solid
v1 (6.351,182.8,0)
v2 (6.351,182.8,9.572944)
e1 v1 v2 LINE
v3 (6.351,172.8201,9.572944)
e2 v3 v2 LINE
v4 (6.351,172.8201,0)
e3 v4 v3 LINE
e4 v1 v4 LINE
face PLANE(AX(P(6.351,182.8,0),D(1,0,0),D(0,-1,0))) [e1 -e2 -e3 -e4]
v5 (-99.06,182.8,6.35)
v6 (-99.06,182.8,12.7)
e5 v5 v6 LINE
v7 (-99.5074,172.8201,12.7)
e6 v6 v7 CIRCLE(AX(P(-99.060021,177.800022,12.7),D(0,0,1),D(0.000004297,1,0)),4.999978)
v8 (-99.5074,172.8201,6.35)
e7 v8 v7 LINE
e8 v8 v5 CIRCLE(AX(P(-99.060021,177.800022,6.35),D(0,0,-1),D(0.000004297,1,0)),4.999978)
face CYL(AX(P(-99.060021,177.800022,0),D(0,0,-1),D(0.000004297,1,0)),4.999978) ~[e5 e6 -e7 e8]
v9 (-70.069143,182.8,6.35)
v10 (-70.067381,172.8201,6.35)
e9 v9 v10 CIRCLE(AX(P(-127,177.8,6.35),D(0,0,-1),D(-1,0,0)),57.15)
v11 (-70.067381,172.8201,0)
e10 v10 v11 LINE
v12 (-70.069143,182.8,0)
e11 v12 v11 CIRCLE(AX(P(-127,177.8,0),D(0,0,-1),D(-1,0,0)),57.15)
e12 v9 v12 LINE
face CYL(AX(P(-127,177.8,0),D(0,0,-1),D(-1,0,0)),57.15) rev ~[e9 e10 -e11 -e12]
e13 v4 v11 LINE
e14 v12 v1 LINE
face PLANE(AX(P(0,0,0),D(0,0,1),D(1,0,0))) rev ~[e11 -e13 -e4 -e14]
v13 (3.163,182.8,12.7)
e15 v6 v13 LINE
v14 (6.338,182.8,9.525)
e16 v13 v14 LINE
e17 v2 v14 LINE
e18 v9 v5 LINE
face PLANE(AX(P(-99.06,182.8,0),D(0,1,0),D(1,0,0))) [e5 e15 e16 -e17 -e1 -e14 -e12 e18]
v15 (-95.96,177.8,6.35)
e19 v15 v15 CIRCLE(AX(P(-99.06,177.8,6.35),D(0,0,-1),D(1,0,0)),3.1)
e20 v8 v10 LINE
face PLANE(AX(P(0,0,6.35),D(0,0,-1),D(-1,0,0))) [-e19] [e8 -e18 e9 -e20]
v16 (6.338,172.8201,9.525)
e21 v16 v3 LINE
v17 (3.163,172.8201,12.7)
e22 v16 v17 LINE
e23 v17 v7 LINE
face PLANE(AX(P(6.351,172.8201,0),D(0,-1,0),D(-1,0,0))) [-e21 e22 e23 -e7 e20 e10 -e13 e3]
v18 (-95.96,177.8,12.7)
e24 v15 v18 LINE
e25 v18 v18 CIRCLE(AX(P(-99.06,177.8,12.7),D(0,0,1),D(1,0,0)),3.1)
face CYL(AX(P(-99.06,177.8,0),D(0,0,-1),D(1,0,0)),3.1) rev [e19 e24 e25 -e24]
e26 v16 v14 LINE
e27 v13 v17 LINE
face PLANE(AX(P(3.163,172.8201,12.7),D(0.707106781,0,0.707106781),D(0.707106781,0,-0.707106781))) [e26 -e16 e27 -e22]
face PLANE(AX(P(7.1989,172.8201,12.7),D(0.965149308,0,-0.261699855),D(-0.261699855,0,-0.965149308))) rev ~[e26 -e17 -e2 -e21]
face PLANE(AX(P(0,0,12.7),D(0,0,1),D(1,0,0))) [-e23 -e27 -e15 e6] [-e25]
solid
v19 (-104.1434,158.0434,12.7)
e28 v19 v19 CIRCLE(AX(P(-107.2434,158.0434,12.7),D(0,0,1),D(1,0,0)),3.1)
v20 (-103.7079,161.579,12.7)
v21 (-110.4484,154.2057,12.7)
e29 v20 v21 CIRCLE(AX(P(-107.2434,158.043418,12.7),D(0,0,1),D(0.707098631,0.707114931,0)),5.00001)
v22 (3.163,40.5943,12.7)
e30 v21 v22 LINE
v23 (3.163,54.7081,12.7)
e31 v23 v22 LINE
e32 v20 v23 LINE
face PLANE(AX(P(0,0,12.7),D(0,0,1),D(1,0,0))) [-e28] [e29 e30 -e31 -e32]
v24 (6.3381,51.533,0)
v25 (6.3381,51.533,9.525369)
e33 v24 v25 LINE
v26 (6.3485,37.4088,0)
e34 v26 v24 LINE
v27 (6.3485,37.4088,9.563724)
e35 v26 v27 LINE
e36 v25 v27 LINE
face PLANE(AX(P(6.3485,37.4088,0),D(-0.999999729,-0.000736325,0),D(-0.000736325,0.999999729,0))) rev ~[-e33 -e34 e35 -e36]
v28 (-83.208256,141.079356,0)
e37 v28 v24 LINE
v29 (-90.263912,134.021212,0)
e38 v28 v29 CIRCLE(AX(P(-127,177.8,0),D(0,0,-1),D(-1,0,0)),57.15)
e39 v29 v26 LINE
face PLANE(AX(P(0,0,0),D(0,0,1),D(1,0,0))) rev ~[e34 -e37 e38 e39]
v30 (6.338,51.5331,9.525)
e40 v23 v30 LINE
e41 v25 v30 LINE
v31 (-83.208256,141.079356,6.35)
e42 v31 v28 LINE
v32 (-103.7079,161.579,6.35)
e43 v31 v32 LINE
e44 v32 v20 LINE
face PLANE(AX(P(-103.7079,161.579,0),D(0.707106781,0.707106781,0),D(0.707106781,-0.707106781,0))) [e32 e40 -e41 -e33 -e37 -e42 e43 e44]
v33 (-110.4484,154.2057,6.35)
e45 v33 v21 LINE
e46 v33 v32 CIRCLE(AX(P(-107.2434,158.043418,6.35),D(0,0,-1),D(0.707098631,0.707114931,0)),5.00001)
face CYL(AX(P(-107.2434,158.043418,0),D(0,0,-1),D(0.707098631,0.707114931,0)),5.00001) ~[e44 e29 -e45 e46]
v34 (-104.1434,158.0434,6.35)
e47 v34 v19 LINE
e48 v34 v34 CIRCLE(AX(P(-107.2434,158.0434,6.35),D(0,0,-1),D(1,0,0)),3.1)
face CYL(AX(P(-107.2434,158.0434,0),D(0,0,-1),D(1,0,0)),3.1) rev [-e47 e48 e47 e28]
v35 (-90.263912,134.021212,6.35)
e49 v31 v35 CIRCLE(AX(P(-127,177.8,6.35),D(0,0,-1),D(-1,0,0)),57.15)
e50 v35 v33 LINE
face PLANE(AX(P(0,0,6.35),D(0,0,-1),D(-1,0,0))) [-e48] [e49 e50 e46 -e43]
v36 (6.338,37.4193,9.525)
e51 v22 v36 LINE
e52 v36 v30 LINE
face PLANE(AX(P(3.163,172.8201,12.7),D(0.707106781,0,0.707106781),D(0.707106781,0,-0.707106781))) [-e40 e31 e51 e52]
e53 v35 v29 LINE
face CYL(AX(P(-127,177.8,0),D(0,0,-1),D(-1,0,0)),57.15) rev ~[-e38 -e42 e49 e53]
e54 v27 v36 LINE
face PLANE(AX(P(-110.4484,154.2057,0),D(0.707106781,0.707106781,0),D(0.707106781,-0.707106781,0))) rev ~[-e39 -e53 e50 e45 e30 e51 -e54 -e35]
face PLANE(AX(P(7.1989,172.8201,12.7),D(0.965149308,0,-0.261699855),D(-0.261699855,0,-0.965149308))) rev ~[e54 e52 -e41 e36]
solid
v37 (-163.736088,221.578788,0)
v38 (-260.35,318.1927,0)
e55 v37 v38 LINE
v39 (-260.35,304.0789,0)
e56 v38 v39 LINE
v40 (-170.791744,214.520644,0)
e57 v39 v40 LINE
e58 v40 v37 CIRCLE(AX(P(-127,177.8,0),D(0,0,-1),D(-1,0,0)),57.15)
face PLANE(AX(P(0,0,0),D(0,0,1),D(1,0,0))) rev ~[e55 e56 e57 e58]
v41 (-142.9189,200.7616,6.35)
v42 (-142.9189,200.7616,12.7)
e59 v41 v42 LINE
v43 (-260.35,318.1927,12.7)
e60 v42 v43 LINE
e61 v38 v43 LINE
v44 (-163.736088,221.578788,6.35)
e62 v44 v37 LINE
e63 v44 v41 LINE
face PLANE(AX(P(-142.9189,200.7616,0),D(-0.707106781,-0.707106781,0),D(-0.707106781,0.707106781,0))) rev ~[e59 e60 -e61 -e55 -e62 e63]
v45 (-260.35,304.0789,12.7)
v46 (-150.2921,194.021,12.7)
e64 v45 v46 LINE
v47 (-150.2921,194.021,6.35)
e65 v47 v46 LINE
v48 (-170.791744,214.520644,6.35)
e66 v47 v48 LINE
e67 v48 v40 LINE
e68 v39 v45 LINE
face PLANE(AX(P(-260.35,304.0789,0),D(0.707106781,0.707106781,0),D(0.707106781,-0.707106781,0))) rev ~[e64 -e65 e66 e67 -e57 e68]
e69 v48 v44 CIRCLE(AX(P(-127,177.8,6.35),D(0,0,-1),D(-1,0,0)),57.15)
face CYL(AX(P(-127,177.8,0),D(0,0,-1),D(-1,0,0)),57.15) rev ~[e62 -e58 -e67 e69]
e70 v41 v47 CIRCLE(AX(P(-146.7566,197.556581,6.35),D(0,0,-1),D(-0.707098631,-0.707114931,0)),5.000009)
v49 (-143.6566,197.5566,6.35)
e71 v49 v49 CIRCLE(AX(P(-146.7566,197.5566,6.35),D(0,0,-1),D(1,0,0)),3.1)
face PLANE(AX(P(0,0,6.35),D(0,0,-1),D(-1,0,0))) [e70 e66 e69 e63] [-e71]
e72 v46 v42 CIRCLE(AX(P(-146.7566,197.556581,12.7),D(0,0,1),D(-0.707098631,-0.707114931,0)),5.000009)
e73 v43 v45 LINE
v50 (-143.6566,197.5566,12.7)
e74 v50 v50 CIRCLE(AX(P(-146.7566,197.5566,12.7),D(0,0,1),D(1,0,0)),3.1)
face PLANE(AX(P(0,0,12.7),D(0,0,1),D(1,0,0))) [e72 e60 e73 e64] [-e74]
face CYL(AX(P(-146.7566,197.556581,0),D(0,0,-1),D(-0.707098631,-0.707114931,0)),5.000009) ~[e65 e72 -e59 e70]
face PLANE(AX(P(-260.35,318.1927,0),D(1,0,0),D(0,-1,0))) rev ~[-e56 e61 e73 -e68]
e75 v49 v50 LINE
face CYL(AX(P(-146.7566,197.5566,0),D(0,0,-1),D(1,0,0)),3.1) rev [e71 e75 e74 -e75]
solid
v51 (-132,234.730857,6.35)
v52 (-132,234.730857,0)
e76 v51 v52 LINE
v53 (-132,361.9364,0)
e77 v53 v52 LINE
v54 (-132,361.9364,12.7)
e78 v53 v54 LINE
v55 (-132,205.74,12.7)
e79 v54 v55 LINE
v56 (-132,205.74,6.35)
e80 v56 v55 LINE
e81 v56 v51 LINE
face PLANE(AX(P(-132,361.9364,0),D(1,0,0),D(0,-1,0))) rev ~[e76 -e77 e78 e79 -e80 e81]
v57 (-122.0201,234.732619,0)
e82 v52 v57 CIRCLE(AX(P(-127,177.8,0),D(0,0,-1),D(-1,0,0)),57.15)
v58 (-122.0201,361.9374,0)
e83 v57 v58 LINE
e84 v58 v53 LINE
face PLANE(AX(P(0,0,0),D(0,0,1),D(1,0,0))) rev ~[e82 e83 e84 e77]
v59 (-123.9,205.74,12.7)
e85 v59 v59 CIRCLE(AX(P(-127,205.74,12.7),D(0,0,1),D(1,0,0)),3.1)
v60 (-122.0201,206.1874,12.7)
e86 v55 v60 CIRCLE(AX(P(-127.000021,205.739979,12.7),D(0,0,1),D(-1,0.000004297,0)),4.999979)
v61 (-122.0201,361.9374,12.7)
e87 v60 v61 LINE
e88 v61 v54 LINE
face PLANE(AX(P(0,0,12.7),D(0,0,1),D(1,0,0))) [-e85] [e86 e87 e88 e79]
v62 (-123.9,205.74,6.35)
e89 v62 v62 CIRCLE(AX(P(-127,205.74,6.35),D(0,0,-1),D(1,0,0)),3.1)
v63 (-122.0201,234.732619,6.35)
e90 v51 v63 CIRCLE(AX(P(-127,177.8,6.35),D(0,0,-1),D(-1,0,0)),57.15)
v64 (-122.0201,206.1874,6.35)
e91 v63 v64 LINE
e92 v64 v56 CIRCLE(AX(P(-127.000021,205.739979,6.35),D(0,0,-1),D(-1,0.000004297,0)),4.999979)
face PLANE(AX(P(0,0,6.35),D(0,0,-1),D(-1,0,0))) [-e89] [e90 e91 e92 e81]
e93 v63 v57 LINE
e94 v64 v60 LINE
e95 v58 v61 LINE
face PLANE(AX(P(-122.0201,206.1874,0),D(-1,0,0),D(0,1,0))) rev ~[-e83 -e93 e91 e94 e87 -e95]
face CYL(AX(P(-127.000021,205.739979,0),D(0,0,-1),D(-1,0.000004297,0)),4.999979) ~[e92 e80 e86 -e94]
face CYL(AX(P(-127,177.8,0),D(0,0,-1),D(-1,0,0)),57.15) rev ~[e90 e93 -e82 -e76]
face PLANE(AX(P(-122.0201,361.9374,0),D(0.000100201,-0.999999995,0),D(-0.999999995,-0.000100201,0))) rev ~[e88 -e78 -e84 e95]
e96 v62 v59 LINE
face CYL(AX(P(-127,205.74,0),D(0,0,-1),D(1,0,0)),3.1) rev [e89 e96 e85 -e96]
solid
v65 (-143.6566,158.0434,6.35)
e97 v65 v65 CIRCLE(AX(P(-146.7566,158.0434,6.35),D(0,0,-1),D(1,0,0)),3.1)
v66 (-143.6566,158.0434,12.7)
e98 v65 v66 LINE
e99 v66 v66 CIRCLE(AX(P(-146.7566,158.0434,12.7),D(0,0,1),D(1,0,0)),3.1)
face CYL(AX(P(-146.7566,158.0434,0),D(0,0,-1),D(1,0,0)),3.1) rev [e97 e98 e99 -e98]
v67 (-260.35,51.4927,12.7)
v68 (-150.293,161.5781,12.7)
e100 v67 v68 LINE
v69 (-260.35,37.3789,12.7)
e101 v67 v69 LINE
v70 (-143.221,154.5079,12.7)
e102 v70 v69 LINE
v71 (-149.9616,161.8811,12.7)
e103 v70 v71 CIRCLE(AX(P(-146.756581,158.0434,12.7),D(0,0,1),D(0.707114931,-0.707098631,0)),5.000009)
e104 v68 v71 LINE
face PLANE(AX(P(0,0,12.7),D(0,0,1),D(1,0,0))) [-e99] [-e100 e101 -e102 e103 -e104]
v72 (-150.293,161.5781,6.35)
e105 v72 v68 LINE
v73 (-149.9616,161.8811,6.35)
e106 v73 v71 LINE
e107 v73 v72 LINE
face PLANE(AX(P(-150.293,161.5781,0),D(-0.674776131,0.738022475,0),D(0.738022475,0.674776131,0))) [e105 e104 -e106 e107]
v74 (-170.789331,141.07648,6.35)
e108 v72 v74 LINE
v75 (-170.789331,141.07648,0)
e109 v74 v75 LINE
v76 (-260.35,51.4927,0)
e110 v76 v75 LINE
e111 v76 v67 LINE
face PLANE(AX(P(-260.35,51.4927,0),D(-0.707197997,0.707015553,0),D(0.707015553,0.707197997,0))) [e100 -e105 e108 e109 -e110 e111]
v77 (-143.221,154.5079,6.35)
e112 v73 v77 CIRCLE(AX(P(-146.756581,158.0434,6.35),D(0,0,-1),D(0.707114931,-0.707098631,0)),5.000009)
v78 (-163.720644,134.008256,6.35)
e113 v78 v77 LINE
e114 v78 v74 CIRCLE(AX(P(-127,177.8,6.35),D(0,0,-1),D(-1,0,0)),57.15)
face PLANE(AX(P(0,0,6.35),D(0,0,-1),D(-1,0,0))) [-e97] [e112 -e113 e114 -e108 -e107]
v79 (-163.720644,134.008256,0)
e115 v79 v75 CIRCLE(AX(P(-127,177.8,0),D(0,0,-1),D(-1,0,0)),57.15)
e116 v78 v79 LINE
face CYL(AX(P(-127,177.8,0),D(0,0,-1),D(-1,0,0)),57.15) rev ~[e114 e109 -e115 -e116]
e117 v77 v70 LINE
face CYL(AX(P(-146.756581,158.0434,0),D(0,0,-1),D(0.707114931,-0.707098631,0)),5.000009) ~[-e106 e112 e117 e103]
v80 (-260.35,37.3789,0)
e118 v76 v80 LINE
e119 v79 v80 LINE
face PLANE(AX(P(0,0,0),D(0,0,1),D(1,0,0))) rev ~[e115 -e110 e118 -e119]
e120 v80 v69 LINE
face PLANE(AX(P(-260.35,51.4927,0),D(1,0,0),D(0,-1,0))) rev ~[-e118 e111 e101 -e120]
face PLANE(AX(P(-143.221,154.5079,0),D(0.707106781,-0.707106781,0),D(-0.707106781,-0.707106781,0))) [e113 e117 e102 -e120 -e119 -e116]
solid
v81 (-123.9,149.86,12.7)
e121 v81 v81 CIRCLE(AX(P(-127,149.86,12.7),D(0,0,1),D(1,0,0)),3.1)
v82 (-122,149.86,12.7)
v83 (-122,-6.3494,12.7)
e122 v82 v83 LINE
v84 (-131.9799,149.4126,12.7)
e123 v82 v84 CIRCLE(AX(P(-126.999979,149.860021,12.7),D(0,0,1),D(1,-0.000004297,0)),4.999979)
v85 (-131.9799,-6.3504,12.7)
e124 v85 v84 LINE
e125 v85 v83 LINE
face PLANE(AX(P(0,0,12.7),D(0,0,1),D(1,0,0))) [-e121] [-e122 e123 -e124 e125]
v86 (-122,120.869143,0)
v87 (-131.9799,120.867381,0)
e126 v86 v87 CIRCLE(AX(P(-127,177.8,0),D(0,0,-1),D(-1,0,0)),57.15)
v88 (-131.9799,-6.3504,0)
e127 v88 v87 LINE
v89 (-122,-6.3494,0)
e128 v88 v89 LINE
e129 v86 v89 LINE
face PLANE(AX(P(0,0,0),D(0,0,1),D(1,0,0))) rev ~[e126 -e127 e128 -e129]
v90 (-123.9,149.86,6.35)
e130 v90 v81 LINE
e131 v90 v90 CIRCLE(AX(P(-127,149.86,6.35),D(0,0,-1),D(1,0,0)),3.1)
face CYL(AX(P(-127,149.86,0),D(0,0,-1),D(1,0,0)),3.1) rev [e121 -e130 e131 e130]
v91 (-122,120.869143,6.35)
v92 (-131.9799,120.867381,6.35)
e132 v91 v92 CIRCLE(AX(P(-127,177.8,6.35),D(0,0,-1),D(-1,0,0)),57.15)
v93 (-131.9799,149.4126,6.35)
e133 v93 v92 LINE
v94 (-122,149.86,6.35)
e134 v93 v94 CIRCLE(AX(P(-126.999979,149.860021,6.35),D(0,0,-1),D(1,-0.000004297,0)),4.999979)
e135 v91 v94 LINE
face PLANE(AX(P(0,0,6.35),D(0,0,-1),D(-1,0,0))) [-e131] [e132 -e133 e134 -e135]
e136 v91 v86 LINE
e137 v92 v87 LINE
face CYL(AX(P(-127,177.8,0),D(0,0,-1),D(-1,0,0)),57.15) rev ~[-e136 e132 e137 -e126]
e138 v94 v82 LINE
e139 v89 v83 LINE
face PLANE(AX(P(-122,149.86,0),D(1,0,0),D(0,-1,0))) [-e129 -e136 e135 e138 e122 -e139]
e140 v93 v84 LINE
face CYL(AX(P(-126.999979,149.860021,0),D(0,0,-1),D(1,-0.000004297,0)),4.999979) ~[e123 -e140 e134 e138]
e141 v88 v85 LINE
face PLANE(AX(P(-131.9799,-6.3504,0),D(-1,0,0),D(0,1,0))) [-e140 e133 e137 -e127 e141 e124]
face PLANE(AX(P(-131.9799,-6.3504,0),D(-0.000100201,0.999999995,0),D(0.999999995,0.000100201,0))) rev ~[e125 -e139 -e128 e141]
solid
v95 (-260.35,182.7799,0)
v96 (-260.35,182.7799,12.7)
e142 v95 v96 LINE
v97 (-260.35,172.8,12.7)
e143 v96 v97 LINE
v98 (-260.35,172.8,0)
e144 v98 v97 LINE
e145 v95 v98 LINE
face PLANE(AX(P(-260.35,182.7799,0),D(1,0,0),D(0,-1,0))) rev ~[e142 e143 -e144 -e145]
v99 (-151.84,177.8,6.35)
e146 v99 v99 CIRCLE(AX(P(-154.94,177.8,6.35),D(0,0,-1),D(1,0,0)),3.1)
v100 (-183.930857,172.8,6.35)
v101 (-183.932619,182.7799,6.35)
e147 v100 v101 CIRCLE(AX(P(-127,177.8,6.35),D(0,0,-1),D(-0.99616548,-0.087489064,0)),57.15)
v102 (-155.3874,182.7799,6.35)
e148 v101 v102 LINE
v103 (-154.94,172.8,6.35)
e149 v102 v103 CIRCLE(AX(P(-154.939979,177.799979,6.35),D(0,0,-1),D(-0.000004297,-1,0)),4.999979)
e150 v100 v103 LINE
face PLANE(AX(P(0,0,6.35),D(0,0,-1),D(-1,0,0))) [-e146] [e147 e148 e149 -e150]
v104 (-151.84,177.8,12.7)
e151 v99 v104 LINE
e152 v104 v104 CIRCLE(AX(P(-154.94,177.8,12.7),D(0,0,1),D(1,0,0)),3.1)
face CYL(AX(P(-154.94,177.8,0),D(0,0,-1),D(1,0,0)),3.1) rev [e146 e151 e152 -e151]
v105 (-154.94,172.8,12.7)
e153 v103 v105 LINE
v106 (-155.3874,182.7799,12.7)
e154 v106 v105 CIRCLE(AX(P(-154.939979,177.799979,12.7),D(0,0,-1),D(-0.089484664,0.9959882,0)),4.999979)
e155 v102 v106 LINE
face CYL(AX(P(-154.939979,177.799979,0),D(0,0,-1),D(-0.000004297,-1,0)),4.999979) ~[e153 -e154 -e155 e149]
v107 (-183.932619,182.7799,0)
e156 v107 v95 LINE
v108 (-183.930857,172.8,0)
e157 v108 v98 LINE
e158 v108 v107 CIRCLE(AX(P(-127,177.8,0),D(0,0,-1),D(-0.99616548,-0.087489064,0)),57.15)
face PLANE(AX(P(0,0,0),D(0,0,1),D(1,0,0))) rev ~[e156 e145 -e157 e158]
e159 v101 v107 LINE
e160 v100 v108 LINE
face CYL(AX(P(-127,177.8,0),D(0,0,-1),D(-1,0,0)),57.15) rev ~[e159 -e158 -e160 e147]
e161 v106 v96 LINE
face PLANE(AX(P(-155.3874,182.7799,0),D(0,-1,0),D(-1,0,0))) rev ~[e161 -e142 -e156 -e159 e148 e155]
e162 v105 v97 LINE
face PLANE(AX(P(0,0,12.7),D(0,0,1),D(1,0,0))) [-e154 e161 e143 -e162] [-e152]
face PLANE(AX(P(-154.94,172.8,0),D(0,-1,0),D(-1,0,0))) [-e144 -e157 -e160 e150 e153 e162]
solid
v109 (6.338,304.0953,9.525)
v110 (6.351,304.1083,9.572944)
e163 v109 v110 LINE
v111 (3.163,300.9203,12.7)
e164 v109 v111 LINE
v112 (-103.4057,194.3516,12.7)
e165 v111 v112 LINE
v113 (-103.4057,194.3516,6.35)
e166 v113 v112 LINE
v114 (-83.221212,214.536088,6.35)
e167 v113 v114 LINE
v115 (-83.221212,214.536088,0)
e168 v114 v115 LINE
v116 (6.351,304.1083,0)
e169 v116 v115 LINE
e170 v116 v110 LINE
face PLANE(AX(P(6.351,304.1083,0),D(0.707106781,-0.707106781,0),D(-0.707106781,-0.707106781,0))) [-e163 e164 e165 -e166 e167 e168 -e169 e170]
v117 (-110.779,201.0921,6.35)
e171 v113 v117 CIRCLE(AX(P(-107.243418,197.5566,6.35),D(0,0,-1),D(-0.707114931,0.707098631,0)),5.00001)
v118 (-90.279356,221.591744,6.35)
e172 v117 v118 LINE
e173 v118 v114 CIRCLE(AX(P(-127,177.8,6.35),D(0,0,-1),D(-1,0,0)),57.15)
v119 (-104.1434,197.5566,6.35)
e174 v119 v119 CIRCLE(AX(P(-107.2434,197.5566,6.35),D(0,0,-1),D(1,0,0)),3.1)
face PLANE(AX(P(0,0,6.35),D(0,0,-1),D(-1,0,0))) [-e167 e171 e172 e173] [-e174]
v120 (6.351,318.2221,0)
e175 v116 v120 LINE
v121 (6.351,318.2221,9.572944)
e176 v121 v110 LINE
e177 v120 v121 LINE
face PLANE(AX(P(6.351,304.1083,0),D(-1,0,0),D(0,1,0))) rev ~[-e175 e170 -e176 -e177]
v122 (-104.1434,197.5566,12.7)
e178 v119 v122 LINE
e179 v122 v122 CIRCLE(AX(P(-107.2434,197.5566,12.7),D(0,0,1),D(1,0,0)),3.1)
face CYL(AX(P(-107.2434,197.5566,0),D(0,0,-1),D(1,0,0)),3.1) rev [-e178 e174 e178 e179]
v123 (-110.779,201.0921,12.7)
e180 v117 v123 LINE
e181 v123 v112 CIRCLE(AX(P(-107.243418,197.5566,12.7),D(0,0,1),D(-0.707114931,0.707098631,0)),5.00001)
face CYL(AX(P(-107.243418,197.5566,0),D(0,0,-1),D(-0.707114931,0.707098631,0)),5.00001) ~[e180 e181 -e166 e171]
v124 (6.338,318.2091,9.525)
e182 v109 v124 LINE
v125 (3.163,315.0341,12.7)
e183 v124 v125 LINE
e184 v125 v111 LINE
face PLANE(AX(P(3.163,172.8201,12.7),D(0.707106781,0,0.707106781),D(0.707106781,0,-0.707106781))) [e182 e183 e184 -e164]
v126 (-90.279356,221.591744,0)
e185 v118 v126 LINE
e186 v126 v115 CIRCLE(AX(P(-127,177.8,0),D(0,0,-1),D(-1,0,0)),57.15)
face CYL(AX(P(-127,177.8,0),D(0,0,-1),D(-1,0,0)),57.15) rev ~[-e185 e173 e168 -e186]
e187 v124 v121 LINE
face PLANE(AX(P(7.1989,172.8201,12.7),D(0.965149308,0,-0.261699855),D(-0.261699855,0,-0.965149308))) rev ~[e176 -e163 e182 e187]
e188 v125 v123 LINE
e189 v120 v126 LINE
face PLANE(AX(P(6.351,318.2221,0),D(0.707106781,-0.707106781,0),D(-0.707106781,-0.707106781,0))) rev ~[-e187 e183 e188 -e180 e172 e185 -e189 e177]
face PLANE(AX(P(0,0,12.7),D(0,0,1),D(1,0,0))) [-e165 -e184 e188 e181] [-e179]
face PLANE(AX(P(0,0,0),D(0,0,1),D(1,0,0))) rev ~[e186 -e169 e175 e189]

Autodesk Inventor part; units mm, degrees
ref_plane "YZ Plane" through (0, 0, 0) normal (1, 0, 0) x (0, 1, 0)
ref_plane "XZ Plane" through (0, 0, 0) normal (0, 1, 0) x (-1, 0, 0)
ref_plane "XY Plane" through (0, 0, 0) normal (0, 0, 1) x (1, 0, 0)
sketch "Sketch1" plane through (0, 0, 0) normal (0, 0, 1) x (1, 0, 0)
  line L0 (0, 0) -> (0, 355.6) construction
  line L1 (-254, 0) -> (0, 0) construction
  line L2 (0, 355.6) -> (-254, 0) construction
  circle A0 centre (-127, 177.8) radius 38.1 construction
  circle A1 centre (-127, 177.8) radius 27.94 construction
  line L3 (0, 355.6) -> (0, 325.12) construction
  line L4 (-127, 177.8) -> (-100.0592, 204.7408) construction
  line L5 (-127, 177.8) -> (-95.96, 177.8) construction
  circle A2 centre (-107.2434, 197.5566) radius 3.1 construction
  circle A3 centre (-127, 205.74) radius 3.1 construction
  circle A4 centre (-127, 177.8) radius 27.94 construction
  circle A5 centre (-146.7566, 197.5566) radius 3.1 construction
  circle A6 centre (-127, 177.8) radius 27.94 construction
  circle A7 centre (-154.94, 177.8) radius 3.1 construction
  circle A8 centre (-127, 177.8) radius 27.94 construction
  circle A9 centre (-146.7566, 158.0434) radius 3.1 construction
  circle A10 centre (-127, 177.8) radius 27.94 construction
  circle A11 centre (-127, 149.86) radius 3.1 construction
  circle A12 centre (-127, 177.8) radius 27.94 construction
  circle A13 centre (-107.2434, 158.0434) radius 3.1 construction
  circle A14 centre (-127, 177.8) radius 27.94 construction
  circle A15 centre (-99.06, 177.8) radius 3.1 construction
  circle A16 centre (-127, 177.8) radius 27.94 construction
  arc A17 (-99.06, 182.8) -> (-98.6126, 172.8201) centre (-99.06, 177.8) ccw construction
  line L6 (-99.06, 182.8) -> (104.14, 182.8) construction
  line L7 (104.14, 182.8) -> (104.773, 172.8201) construction
  line L8 (104.773, 172.8201) -> (-99.5074, 172.8201) construction
  line L9 (-110.779, 201.0921) -> (32.9051, 344.7762) construction
  line L10 (32.9051, 344.7762) -> (40.4096, 338.1669) construction
  line L11 (40.4096, 338.1669) -> (-104.0384, 193.7189) construction
  arc A18 (-110.779, 201.0921) -> (-103.4057, 194.3516) centre (-107.2434, 197.5566) ccw construction
  line L12 (-132, 205.74) -> (-132, 408.94) construction
  line L13 (-132, 408.94) -> (-122.0201, 409.573) construction
  line L14 (-122.0201, 409.573) -> (-122.0201, 205.2926) construction
  arc A19 (-132, 205.74) -> (-122.0201, 206.1874) centre (-127, 205.74) ccw construction
  line L15 (-150.2921, 194.021) -> (-293.9762, 337.7051) construction
  line L16 (-293.9762, 337.7051) -> (-287.3669, 345.2096) construction
  line L17 (-287.3669, 345.2096) -> (-142.9189, 200.7616) construction
  arc A20 (-150.2921, 194.021) -> (-143.5516, 201.3943) centre (-146.7566, 197.5566) ccw construction
  line L18 (-154.94, 172.8) -> (-358.14, 172.8) construction
  line L19 (-358.14, 172.8) -> (-358.773, 182.7799) construction
  line L20 (-358.773, 182.7799) -> (-154.4926, 182.7799) construction
  arc A21 (-154.94, 172.8) -> (-155.3874, 182.7799) centre (-154.94, 177.8) ccw construction
  line L21 (-143.221, 154.5079) -> (-286.9051, 10.8238) construction
  line L22 (-286.9051, 10.8238) -> (-294.4096, 17.4331) construction
  line L23 (-294.4096, 17.4331) -> (-149.9616, 161.8811) construction
  arc A22 (-143.221, 154.5079) -> (-150.5943, 161.2484) centre (-146.7566, 158.0434) ccw construction
  line L24 (-122, 149.86) -> (-122, -53.34) construction
  line L25 (-122, -53.34) -> (-131.9799, -53.973) construction
  line L26 (-131.9799, -53.973) -> (-131.9799, 150.3074) construction
  arc A23 (-122, 149.86) -> (-131.9799, 149.4126) centre (-127, 149.86) ccw construction
  line L27 (-103.7079, 161.579) -> (39.9762, 17.8949) construction
  line L28 (39.9762, 17.8949) -> (33.3669, 10.3904) construction
  line L29 (33.3669, 10.3904) -> (-111.0811, 154.8384) construction
  arc A24 (-103.7079, 161.579) -> (-110.4484, 154.2057) centre (-107.2434, 158.0434) ccw construction
  line L30 (0, 355.6) -> (-254, 355.6) construction
  line L31 (-254, 0) -> (-254, 355.6) construction
  line L32 (-254, 355.6) -> (0, 355.6) construction
  line L33 (0, 355.6) -> (0, 0) construction
  line L34 (-254, 0) -> (0, 0) construction
  line L35 (-131.9799, -6.3504) -> (-122, -6.3494)
  line L36 (-122.0201, 361.9374) -> (-132, 361.9364)
  line L37 (-99.06, 182.8) -> (6.351, 182.8)
  line L38 (6.351, 182.8) -> (6.351, 172.8201)
  line L39 (6.351, 172.8201) -> (-99.5074, 172.8201)
  line L40 (-103.7079, 161.579) -> (6.3381, 51.533)
  line L41 (-110.4484, 154.2057) -> (6.3485, 37.4088)
  line L42 (-122, 149.86) -> (-122, -6.3494)
  line L43 (-131.9799, -6.3504) -> (-131.9799, 149.4126)
  arc A25 (-122, 149.86) -> (-131.9799, 149.4126) centre (-127, 149.86) ccw
  arc A26 (-103.7079, 161.579) -> (-110.4484, 154.2057) centre (-107.2434, 158.0434) ccw
  arc A27 (-99.06, 182.8) -> (-99.5074, 172.8201) centre (-99.06, 177.8) ccw
  circle A28 centre (-127, 149.86) radius 3.1
  circle A29 centre (-107.2434, 158.0434) radius 3.1
  circle A30 centre (-99.06, 177.8) radius 3.1
  circle A31 centre (-107.2434, 197.5566) radius 3.1
  arc A32 (-110.779, 201.0921) -> (-103.4057, 194.3516) centre (-107.2434, 197.5566) ccw
  circle A33 centre (-127, 205.74) radius 3.1
  arc A34 (-132, 205.74) -> (-122.0201, 206.1874) centre (-127, 205.74) ccw
  circle A35 centre (-146.7566, 197.5566) radius 3.1
  arc A36 (-150.2921, 194.021) -> (-142.9189, 200.7616) centre (-146.7566, 197.5566) ccw
  circle A37 centre (-154.94, 177.8) radius 3.1
  arc A38 (-154.94, 172.8) -> (-155.3874, 182.7799) centre (-154.94, 177.8) ccw
  circle A39 centre (-146.7566, 158.0434) radius 3.1
  arc A40 (-143.221, 154.5079) -> (-149.9616, 161.8811) centre (-146.7566, 158.0434) ccw
  line L44 (-154.94, 172.8) -> (-260.35, 172.8)
  line L45 (-154.4926, 182.7799) -> (-260.35, 182.7799)
  line L46 (6.3485, 37.4088) -> (6.3381, 51.533)
  line L47 (-143.221, 154.5079) -> (-260.35, 37.3789)
  line L48 (-260.35, 51.4927) -> (-150.293, 161.5781)
  line L49 (-150.293, 161.5781) -> (-149.9616, 161.8811)
  line L50 (-260.35, 51.4927) -> (-260.35, 37.3789)
  line L51 (-142.9189, 200.7616) -> (-260.35, 318.1927)
  line L52 (-260.35, 304.0789) -> (-150.2921, 194.021)
  line L53 (-132, 361.9364) -> (-132, 205.74)
  line L54 (-122.0201, 206.1874) -> (-122.0201, 361.9374)
  line L55 (6.351, 304.1083) -> (-103.4057, 194.3516)
  line L56 (6.351, 318.2221) -> (-110.779, 201.0921)
  line L57 (-260.35, 318.1927) -> (-260.35, 304.0789)
  line L58 (-260.35, 182.7799) -> (-260.35, 172.8)
  line L59 (6.351, 172.8201) -> (6.351, 182.8)
  line L60 (6.351, 304.1083) -> (6.351, 318.2221)
  dimension "d4" = 76.2
  dimension "d5" = 55.88
  dimension "d6" = 30.48
  dimension "d7" = 45
  dimension "d8" = 6.2
  dimension "d9" = 360
  dimension "d10" = 10
  dimension "d11" = 203.2
  dimension "d12" = 10
  dimension "d13" = 360
extrude "Extrusion1" add sketch "Sketch1" along normal blind 12.7
sketch "Sketch2" plane through (0, 0, 0) normal (0, 0, -1) x (-1, 0, 0)
  circle A0 centre (146.7566, 197.5566) radius 3.1 construction
  circle A1 centre (107.2434, 158.0434) radius 3.1 construction
  line L0 (146.7566, 197.5566) -> (107.2434, 158.0434) construction
  circle A2 centre (127, 177.8) radius 57.15
  point P0 (0, 0)
  dimension "d17" = 114.3
extrude "Extrusion2" cut sketch "Sketch2" against normal blind 6.35
sketch "Sketch3" plane through (-99.5074, 172.8201, 12.7) normal (0, -1, 0) x (1, 0, 0)
  line L0 (102.6704, 0) -> (105.8454, -3.175)
  line L1 (106.7063, 0) -> (102.6704, 0)
  line L2 (106.7063, 0) -> (105.8454, -3.175)
  point P0 (99.5074, -12.7)
  point P1 (105.8454, 0)
extrude "Extrusion3" cut sketch "Sketch3" along normal mid plane 508
properties part number "pins"
